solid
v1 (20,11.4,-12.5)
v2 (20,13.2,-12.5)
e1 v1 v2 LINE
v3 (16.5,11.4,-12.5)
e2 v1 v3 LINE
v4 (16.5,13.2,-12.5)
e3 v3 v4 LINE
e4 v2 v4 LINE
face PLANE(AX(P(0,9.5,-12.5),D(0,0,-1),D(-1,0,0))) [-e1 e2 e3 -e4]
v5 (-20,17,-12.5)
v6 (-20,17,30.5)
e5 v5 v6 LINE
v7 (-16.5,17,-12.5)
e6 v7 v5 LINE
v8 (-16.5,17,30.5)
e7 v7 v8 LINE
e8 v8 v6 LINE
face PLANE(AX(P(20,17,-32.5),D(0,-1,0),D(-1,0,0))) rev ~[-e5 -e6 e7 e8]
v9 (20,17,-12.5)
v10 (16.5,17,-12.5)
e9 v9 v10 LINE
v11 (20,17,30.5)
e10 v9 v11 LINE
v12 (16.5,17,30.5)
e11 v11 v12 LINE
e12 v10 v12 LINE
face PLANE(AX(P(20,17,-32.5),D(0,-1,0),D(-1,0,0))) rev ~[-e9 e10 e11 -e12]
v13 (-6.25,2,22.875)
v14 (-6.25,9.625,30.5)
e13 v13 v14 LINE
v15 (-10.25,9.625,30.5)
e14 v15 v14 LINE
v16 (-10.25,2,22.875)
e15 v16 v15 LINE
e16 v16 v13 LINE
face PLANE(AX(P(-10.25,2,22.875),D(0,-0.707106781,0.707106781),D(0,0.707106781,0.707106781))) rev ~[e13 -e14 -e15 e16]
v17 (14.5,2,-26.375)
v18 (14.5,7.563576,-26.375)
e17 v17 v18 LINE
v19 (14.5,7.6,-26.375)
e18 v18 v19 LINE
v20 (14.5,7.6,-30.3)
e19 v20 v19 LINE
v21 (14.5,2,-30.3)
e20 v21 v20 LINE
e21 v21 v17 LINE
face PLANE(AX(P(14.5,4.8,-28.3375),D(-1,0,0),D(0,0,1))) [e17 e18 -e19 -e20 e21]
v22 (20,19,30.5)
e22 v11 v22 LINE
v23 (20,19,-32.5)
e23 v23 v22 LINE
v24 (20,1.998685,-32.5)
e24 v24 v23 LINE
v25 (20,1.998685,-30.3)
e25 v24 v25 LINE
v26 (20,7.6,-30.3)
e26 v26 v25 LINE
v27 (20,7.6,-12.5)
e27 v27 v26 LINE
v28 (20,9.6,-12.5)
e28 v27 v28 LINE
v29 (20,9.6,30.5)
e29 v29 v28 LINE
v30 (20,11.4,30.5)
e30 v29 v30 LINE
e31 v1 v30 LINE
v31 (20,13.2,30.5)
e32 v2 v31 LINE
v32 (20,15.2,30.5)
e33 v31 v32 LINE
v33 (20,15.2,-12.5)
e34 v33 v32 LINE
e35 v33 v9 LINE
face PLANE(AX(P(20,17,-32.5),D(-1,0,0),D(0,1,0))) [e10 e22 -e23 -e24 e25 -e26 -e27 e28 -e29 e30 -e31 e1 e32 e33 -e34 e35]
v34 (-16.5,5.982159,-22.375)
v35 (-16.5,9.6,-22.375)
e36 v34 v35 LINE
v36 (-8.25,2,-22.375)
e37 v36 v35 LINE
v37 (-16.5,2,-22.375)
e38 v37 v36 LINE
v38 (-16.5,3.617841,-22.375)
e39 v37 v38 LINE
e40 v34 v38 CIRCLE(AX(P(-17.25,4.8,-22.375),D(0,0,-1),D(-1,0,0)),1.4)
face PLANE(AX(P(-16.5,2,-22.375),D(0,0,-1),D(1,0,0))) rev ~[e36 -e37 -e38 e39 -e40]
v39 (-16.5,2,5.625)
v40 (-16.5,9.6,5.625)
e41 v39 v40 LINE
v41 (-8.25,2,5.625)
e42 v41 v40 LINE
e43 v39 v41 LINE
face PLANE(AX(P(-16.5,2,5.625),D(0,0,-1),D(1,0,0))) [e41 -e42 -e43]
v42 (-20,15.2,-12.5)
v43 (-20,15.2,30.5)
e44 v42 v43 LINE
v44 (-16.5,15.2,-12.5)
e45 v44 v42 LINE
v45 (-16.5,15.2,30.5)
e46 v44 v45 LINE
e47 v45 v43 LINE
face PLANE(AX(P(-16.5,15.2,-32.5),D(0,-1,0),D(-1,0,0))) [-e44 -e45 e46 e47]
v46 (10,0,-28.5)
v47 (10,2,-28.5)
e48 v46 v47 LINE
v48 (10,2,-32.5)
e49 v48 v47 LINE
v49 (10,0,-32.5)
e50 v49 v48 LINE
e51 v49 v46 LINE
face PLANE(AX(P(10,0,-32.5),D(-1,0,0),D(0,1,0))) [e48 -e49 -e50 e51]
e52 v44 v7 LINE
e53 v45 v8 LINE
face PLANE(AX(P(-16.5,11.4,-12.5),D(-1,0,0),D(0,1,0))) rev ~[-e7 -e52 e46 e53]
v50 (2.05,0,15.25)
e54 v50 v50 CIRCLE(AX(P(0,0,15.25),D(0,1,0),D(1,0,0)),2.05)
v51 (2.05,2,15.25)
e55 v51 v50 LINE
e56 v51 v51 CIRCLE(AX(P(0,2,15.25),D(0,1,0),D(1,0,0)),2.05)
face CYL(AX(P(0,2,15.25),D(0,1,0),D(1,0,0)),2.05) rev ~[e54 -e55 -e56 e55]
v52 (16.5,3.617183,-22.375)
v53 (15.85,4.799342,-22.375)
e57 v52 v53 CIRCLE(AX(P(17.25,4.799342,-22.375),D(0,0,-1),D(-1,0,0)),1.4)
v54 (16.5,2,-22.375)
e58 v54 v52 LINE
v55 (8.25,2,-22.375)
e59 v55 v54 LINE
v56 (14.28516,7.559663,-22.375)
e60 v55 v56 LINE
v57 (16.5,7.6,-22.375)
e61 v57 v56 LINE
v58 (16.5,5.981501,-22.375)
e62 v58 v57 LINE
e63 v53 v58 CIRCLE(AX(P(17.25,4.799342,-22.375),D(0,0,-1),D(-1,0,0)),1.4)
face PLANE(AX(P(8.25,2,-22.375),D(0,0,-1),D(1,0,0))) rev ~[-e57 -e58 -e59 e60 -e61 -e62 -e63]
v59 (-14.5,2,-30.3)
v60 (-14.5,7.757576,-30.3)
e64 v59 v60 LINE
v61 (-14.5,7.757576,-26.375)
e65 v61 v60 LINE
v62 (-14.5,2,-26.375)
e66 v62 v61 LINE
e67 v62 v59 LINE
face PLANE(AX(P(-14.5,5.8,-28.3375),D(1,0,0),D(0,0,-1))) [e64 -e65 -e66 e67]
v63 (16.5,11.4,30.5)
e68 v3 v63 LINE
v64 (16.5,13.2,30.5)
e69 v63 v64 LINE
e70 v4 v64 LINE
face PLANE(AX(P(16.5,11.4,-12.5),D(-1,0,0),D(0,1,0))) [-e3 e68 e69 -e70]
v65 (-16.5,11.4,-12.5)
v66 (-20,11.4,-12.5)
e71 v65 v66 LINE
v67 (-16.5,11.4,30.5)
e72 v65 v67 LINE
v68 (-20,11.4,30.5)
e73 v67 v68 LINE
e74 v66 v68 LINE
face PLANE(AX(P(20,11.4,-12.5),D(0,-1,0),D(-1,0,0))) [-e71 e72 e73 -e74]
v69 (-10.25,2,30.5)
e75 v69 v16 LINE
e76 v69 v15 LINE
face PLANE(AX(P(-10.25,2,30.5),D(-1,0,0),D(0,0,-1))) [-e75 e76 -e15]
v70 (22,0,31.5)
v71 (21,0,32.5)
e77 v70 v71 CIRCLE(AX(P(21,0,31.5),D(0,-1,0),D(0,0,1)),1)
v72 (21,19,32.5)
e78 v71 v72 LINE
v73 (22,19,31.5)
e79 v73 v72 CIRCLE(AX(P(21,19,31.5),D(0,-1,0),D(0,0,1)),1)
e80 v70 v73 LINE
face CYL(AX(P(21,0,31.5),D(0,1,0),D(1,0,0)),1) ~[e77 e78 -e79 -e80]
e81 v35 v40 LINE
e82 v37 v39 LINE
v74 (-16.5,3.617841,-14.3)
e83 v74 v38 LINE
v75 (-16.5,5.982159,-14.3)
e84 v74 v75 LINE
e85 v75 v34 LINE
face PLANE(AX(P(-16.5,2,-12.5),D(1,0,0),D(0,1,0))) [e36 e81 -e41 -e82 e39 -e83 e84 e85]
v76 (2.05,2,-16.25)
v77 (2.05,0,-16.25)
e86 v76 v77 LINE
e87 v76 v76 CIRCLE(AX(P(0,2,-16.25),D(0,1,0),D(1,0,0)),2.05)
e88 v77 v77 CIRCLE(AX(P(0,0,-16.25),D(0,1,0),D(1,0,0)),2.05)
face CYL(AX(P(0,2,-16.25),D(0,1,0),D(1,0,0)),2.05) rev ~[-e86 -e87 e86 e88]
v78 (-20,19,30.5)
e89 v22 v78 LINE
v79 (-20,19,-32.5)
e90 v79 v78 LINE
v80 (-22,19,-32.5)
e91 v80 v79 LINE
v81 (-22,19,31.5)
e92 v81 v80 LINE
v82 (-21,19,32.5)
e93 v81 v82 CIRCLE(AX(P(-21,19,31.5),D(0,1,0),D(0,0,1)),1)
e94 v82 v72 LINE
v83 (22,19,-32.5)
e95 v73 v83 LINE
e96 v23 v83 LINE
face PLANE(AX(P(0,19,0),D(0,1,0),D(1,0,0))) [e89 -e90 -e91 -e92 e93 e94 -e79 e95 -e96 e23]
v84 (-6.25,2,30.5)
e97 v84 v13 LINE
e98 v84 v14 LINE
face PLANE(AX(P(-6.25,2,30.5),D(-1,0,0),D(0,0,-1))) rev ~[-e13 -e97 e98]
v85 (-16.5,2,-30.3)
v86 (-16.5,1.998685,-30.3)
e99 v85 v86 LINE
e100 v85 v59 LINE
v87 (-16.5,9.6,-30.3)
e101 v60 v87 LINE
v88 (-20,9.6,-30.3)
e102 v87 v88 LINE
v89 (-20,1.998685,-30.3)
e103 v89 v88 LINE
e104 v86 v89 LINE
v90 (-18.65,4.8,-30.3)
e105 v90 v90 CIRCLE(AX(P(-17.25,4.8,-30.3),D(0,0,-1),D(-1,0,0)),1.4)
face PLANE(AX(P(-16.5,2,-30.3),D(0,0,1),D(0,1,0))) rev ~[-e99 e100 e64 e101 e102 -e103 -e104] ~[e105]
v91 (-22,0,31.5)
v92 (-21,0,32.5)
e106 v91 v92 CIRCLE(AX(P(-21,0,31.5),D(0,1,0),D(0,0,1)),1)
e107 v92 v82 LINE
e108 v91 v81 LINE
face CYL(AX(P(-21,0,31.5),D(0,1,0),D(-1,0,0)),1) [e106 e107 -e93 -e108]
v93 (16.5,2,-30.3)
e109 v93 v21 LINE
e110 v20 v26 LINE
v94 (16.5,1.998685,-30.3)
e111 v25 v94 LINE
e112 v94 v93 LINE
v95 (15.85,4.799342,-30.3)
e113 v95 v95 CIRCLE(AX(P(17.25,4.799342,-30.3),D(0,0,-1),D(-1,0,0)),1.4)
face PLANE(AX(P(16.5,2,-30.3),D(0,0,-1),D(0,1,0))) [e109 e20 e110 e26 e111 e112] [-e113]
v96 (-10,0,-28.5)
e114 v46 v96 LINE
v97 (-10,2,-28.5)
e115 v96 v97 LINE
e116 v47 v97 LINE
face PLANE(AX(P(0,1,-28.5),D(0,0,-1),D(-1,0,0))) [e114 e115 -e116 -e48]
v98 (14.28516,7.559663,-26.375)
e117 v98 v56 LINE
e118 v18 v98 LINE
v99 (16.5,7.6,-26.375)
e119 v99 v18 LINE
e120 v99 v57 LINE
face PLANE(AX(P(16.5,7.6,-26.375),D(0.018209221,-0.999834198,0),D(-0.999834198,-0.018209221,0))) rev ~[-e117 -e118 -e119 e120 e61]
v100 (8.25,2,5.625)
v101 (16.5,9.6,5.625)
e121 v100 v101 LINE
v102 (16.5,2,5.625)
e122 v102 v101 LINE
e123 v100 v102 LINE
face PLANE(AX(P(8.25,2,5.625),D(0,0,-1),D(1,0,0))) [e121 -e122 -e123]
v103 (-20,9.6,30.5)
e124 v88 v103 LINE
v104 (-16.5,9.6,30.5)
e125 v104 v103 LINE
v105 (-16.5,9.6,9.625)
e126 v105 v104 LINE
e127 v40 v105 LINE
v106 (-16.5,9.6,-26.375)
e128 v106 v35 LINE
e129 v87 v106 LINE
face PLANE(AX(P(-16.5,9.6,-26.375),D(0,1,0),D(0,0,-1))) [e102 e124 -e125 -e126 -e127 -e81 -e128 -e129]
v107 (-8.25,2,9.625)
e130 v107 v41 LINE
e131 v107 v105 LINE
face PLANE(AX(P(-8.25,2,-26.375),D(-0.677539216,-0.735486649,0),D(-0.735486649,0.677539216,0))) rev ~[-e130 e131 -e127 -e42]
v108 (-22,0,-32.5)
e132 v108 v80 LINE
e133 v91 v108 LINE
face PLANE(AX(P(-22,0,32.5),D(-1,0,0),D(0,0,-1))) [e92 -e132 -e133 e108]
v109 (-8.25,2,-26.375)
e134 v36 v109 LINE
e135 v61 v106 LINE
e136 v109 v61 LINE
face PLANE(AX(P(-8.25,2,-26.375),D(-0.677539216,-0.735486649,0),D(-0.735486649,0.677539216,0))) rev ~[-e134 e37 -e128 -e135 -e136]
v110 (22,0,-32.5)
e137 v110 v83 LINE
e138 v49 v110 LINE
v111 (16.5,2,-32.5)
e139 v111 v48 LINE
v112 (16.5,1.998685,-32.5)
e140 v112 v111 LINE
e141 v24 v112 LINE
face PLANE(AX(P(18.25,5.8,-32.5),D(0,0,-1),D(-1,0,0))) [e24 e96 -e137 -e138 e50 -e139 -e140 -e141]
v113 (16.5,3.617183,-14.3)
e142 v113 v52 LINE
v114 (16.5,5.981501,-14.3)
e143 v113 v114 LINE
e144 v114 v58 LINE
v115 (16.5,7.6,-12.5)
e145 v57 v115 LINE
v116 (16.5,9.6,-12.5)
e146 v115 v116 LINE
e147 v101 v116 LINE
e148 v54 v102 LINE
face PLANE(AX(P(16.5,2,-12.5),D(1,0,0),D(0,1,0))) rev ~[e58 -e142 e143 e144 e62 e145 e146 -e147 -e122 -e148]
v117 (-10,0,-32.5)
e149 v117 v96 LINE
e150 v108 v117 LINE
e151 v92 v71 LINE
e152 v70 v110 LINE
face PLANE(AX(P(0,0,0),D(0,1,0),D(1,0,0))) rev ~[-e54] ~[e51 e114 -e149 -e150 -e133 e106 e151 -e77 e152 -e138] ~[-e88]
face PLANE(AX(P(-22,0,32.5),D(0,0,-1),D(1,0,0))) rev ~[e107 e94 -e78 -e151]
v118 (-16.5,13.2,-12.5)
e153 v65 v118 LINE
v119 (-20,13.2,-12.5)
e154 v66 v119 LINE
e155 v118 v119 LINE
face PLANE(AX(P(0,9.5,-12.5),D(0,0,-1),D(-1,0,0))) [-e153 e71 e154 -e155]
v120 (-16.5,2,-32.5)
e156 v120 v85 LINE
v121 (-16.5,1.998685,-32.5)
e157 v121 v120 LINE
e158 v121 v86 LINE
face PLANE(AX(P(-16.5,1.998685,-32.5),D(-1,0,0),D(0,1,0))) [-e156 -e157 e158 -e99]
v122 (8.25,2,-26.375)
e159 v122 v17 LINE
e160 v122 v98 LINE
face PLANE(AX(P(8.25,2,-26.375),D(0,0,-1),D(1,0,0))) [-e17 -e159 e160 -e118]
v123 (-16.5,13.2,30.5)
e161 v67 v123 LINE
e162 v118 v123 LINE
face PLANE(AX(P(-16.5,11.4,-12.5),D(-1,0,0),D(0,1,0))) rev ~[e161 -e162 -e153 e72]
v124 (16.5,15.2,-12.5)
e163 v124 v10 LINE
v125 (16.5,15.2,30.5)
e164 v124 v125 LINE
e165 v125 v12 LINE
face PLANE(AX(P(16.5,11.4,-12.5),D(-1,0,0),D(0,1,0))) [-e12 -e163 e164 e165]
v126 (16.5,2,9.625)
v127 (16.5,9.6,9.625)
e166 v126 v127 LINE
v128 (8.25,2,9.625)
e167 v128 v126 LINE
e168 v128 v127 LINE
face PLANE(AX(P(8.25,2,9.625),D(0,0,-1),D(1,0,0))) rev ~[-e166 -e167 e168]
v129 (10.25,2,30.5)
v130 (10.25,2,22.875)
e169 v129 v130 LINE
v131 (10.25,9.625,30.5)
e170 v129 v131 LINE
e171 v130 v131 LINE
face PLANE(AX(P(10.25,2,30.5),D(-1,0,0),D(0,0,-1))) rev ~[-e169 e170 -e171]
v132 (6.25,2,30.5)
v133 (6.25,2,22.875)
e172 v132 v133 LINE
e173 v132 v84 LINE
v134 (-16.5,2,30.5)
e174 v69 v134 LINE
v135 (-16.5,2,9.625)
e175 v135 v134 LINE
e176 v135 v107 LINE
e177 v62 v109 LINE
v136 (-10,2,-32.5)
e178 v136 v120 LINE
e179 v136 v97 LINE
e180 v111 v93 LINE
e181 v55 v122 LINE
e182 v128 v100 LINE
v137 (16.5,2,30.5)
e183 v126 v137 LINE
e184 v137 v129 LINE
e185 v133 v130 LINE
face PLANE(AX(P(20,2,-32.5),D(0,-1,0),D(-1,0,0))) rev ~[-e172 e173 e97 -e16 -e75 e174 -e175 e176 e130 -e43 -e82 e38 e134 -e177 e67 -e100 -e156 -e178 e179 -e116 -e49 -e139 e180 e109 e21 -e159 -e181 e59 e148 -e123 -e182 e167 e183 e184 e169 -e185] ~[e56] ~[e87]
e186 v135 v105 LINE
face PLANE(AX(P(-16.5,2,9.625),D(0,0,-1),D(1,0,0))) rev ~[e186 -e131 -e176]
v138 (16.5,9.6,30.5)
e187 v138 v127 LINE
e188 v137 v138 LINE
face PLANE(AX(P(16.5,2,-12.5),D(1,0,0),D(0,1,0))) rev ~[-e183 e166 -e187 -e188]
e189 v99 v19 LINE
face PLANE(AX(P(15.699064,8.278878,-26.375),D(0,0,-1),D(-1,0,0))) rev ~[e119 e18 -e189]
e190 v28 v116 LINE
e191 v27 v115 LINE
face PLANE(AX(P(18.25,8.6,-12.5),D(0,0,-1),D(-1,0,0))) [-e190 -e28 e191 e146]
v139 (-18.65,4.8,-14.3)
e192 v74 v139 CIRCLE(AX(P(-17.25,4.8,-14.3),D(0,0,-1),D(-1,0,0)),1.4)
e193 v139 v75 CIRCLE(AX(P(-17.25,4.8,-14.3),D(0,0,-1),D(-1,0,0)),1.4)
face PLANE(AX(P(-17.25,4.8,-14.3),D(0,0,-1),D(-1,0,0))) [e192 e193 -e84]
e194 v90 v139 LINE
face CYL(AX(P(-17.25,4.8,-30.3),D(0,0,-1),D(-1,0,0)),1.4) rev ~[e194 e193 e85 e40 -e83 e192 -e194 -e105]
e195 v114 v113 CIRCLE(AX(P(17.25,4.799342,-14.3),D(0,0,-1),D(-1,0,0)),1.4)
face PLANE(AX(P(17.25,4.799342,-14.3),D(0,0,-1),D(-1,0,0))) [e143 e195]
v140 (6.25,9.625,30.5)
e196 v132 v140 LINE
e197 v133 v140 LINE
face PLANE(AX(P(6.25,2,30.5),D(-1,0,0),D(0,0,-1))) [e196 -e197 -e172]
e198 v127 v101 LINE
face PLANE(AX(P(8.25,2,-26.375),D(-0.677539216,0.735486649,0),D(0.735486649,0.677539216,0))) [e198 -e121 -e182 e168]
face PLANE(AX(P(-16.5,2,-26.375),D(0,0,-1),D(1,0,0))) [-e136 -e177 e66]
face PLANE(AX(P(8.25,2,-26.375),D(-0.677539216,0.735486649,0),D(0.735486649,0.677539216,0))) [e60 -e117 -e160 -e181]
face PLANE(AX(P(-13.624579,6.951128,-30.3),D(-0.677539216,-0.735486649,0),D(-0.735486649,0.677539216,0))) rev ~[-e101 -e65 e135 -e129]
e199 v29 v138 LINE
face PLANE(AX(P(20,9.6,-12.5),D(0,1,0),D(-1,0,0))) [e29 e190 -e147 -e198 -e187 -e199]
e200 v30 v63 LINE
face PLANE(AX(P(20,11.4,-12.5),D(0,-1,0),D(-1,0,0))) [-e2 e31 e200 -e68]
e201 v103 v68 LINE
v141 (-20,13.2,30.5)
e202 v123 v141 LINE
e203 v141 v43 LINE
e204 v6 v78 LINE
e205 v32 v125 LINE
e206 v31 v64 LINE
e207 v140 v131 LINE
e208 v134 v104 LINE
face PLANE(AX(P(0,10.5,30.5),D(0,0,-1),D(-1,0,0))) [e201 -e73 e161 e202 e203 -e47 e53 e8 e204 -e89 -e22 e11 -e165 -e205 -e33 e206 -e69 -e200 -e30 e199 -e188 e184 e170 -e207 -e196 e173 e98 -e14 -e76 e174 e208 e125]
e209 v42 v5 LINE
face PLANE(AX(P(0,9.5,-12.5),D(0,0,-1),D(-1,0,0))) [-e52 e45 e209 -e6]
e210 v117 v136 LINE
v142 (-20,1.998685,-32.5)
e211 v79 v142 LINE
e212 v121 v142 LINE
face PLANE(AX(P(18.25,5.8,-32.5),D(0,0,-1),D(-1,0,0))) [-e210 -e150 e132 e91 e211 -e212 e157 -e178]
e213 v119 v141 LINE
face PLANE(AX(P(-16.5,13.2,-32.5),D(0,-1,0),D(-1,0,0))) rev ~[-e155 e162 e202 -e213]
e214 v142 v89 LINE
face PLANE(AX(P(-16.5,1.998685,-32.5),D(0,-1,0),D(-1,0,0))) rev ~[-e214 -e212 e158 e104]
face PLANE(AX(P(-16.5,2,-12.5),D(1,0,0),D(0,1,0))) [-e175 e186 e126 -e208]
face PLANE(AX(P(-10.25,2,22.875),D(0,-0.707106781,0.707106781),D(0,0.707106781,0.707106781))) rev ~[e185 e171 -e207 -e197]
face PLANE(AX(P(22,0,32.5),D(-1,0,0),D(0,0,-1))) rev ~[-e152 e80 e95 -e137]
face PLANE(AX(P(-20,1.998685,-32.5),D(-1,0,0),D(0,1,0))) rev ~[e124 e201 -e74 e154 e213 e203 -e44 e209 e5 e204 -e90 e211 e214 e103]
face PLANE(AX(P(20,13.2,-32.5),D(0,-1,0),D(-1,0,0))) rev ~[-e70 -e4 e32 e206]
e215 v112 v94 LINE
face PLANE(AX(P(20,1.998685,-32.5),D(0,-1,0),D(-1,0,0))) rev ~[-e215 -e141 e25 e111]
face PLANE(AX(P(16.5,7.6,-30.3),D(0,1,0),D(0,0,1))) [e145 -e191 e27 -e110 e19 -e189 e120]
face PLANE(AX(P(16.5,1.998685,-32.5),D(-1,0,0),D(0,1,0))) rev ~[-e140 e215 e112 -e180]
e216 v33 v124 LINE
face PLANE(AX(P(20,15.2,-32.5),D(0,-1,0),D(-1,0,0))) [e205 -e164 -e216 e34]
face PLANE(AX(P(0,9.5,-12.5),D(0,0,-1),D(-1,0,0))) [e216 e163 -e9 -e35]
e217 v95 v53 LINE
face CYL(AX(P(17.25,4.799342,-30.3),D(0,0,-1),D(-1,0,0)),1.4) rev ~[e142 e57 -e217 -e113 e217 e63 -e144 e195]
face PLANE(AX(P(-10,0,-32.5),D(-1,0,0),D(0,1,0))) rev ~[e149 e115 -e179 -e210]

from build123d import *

# Parameters (mm, degrees)
ESBO_O1_W                = 44
ESBO_O1_H                = 65
RESSALTO_EXTRUS_O1_DEPTH = 19
ESBO_O2_W                = 40
ESBO_O2_H                = 15
CORTE_EXTRUS_O1_DEPTH    = 20
ESBO_O3_W                = 40
ESBO_O3_H                = 1.8
CORTE_EXTRUS_O2_DEPTH    = 43
ESBO_O4_W                = 33
ESBO_O4_H                = 7.6
CORTE_EXTRUS_O3_DEPTH    = 43
ESBO_O5_W                = 3.5
ESBO_O5_H                = 7.6
RESSALTO_EXTRUS_O2_DEPTH = 20
ESBO_O6_W                = 33
ESBO_O6_H                = 5.6
CORTE_EXTRUS_O4_DEPTH    = 43
ESBO_O7_W                = 3.5
ESBO_O7_H                = 2
ESBO_O7_W_2              = 40
CORTE_EXTRUS_O5_DEPTH    = 63
ESBO_O8_R                = 2.05
CORTE_EXTRUS_O6_DEPTH    = 3
ESBO_O9_W                = 3.5
ESBO_O9_H                = 7.601315145
CORTE_EXTRUS_O7_DEPTH    = 4
ESBO_O10_W               = 3.5
ESBO_O10_H               = 2
CORTE_EXTRUS_O9_DEPTH    = 16
ESBO_O12_W               = 8.25
ESBO_O12_H               = 4
ESBO_O12_W_2             = 4
ESBO_O12_H_2             = 7.625
RESSALTO_EXTRUS_O3_DEPTH = 8
CORTE_EXTRUS_O10_DEPTH   = 40
CORTE_EXTRUS_O11_DEPTH   = 24
RESSALTO_EXTRUS_O4_DEPTH = 1.8
ESBO_O18_W               = 3.925
ESBO_O18_H               = 5.6
RESSALTO_EXTRUS_O5_DEPTH = 2
CORTE_EXTRUS_O12_DEPTH   = 10
ESBO_O20_R               = 1.4
CORTE_EXTRUS_O13_DEPTH   = 16
ESBO_O21_W               = 3.925
ESBO_O21_H               = 7.6
RESSALTO_EXTRUS_O6_DEPTH = 2
CORTE_EXTRUS_O14_DEPTH   = 5
ESBO_O24_R               = 1.4
CORTE_EXTRUS_O15_DEPTH   = 16
ESBO_O26_W               = 20
ESBO_O26_H               = 2
CORTE_EXTRUS_O16_DEPTH   = 4
FILETE1_R                = 1


with BuildPart() as part:
    # Esboço1 → Ressalto-extrusão1 (new body)
    with BuildSketch(Plane(origin=(0, 0, 0), x_dir=(1, 0, 0), z_dir=(0, 1, 0))):
        Rectangle(ESBO_O1_W, ESBO_O1_H)
    extrude(amount=RESSALTO_EXTRUS_O1_DEPTH)

    # Esboço2 → Corte-extrusão1 (cut)
    with BuildSketch(Plane(origin=(0, 0, -32.5), x_dir=(-1, 0, 0), z_dir=(0, 0, -1))):
        with Locations((0, 9.5)):
            Rectangle(ESBO_O2_W, ESBO_O2_H)
    extrude(amount=-CORTE_EXTRUS_O1_DEPTH, mode=Mode.SUBTRACT)

    # Esboço3 → Corte-extrusão2 (cut)
    with BuildSketch(Plane(origin=(0, 0, -12.5), x_dir=(-1, 0, 0), z_dir=(0, 0, -1))):
        with Locations((0, 10.5)):
            Rectangle(ESBO_O3_W, ESBO_O3_H)
    extrude(amount=-CORTE_EXTRUS_O2_DEPTH, mode=Mode.SUBTRACT)

    # Esboço4 → Corte-extrusão3 (cut)
    with BuildSketch(Plane(origin=(0, 0, -12.5), x_dir=(-1, 0, 0), z_dir=(0, 0, -1))):
        with Locations((0, 5.8)):
            Rectangle(ESBO_O4_W, ESBO_O4_H)
    extrude(amount=-CORTE_EXTRUS_O3_DEPTH, mode=Mode.SUBTRACT)

    # Esboço5 → Ressalto-extrusão2 (add)
    with BuildSketch(Plane(origin=(0, 0, -12.5), x_dir=(-1, 0, 0), z_dir=(0, 0, -1))):
        with Locations((-18.25, 5.8)):
            Rectangle(ESBO_O5_W, ESBO_O5_H)
        with Locations((18.25, 5.8)):
            Rectangle(ESBO_O5_W, ESBO_O5_H)
    extrude(amount=RESSALTO_EXTRUS_O2_DEPTH)

    # Esboço6 → Corte-extrusão4 (cut)
    with BuildSketch(Plane(origin=(0, 0, -12.5), x_dir=(-1, 0, 0), z_dir=(0, 0, -1))):
        with Locations((0, 14.2)):
            Rectangle(ESBO_O6_W, ESBO_O6_H)
    extrude(amount=-CORTE_EXTRUS_O4_DEPTH, mode=Mode.SUBTRACT)

    # Esboço7 → Corte-extrusão5 (cut)
    with BuildSketch(Plane(origin=(0, 0, -32.5), x_dir=(-1, 0, 0), z_dir=(0, 0, -1))):
        with Locations((-18.25, 14.2)):
            Rectangle(ESBO_O7_W, ESBO_O7_H)
        with Locations((18.25, 14.2)):
            Rectangle(ESBO_O7_W, ESBO_O7_H)
        with Locations((0, 18)):
            Rectangle(ESBO_O7_W_2, ESBO_O7_H)
    extrude(amount=-CORTE_EXTRUS_O5_DEPTH, mode=Mode.SUBTRACT)

    # Esboço8 → Corte-extrusão6 (cut, through all)
    with BuildSketch(Plane(origin=(0, 2, 0), x_dir=(1, 0, 0), z_dir=(0, 1, 0))):
        with Locations((0, 16.25)):
            Circle(ESBO_O8_R)
        with Locations((0, -15.25)):
            Circle(ESBO_O8_R)
    extrude(amount=-CORTE_EXTRUS_O6_DEPTH, mode=Mode.SUBTRACT)

    # Esboço9 → Corte-extrusão7 (cut)
    with BuildSketch(Plane(origin=(0, 0, -32.5), x_dir=(-1, 0, 0), z_dir=(0, 0, -1))):
        with Locations((18.25, 5.799342428)):
            Rectangle(ESBO_O9_W, ESBO_O9_H)
        with Locations((-18.25, 5.799342428)):
            Rectangle(ESBO_O9_W, ESBO_O9_H)
    extrude(amount=-CORTE_EXTRUS_O7_DEPTH, mode=Mode.SUBTRACT)

    # Esboço10 → Corte-extrusão9 (cut)
    with BuildSketch(Plane(origin=(0, 0, -28.5), x_dir=(-1, 0, 0), z_dir=(0, 0, -1))):
        with Locations((-18.25, 8.6)):
            Rectangle(ESBO_O10_W, ESBO_O10_H)
    extrude(amount=-CORTE_EXTRUS_O9_DEPTH, mode=Mode.SUBTRACT)

    # Esboço12 → Ressalto-extrusão3 (add)
    with BuildSketch(Plane(origin=(0, 2, 0), x_dir=(1, 0, 0), z_dir=(0, 1, 0))):
        with Locations((12.375, 24.375)):
            Rectangle(ESBO_O12_W, ESBO_O12_H)
        with Locations((12.375, -7.625)):
            Rectangle(ESBO_O12_W, ESBO_O12_H)
        with Locations((8.25, -26.6875)):
            Rectangle(ESBO_O12_W_2, ESBO_O12_H_2)
        with Locations((-8.25, -26.6875)):
            Rectangle(ESBO_O12_W_2, ESBO_O12_H_2)
        with Locations((-12.375, -7.625)):
            Rectangle(ESBO_O12_W, ESBO_O12_H)
        with Locations((-12.375, 24.375)):
            Rectangle(ESBO_O12_W, ESBO_O12_H)
    extrude(amount=RESSALTO_EXTRUS_O3_DEPTH)

    # Esboço13 → Corte-extrusão10 (cut)
    with BuildSketch(Plane(origin=(0, 0, -26.375), x_dir=(-1, 0, 0), z_dir=(0, 0, -1))):
        Polygon((-8.25, 10), (-8.25, 2), (-16.5, 9.6), (-16.5, 10), align=None)
        Polygon((8.25, 2), (16.5, 9.6), (16.5, 10), (8.25, 10), align=None)
    extrude(amount=-CORTE_EXTRUS_O10_DEPTH, mode=Mode.SUBTRACT)

    # Esboço14 → Corte-extrusão11 (cut)
    with BuildSketch(Plane.ZY.offset(10.25)):
        Polygon((22.875, 2), (30.5, 9.625), (30.5, 10), (22.875, 10), align=None)
    extrude(amount=-CORTE_EXTRUS_O11_DEPTH, mode=Mode.SUBTRACT)

    # Esboço17 → Ressalto-extrusão4 (add)
    with BuildSketch(Plane(origin=(0, 0, -28.5), x_dir=(-1, 0, 0), z_dir=(0, 0, -1))):
        Polygon((-16.5, 2), (-16.5, 7.6), (-20, 7.6), (-20, 1.998684855), (-16.5, 1.998684855), align=None)
        Polygon((16.5, 9.6), (16.5, 2), (16.5, 1.998684855), (20, 1.998684855), (20, 9.6), align=None)
    extrude(amount=RESSALTO_EXTRUS_O4_DEPTH)

    # Esboço18 → Ressalto-extrusão5 (add)
    with BuildSketch(Plane.ZY.offset(-16.5)):
        with Locations((-28.3375, 4.8)):
            Rectangle(ESBO_O18_W, ESBO_O18_H)
    extrude(amount=RESSALTO_EXTRUS_O5_DEPTH)

    # Esboço19 → Corte-extrusão12 (cut)
    with BuildSketch(Plane(origin=(0, 0, -26.375), x_dir=(-1, 0, 0), z_dir=(0, 0, -1))):
        Polygon((-16.5, 9.6), (-16.5, 7.6), (-14.285160283, 7.559662806), align=None)
    extrude(amount=-CORTE_EXTRUS_O12_DEPTH, mode=Mode.SUBTRACT)

    # Esboço20 → Corte-extrusão13 (cut)
    with BuildSketch(Plane(origin=(0, 0, -30.3), x_dir=(-1, 0, 0), z_dir=(0, 0, -1))):
        with Locations((-17.25, 4.799342428)):
            Circle(ESBO_O20_R)
    extrude(amount=-CORTE_EXTRUS_O13_DEPTH, mode=Mode.SUBTRACT)

    # Esboço21 → Ressalto-extrusão6 (add)
    with BuildSketch(Plane(origin=(-16.5, 0, 0), x_dir=(0, 0, -1), z_dir=(1, 0, 0))):
        with Locations((28.3375, 5.8)):
            Rectangle(ESBO_O21_W, ESBO_O21_H)
    extrude(amount=RESSALTO_EXTRUS_O6_DEPTH)

    # Esboço23 → Corte-extrusão14 (cut)
    with BuildSketch(Plane(origin=(0, 0, -30.3), x_dir=(-1, 0, 0), z_dir=(0, 0, -1))):
        Polygon((13.624579494, 6.951127777), (17.102092839, 10.154655221), (13.624579494, 10.154655221), align=None)
    extrude(amount=-CORTE_EXTRUS_O14_DEPTH, mode=Mode.SUBTRACT)

    # Esboço24 → Corte-extrusão15 (cut)
    with BuildSketch(Plane(origin=(0, 0, -30.3), x_dir=(-1, 0, 0), z_dir=(0, 0, -1))):
        with Locations((17.25, 4.8)):
            Circle(ESBO_O24_R)
    extrude(amount=-CORTE_EXTRUS_O15_DEPTH, mode=Mode.SUBTRACT)

    # Esboço26 → Corte-extrusão16 (cut)
    with BuildSketch(Plane(origin=(0, 0, -32.5), x_dir=(-1, 0, 0), z_dir=(0, 0, -1))):
        with Locations((0, 1)):
            Rectangle(ESBO_O26_W, ESBO_O26_H)
    extrude(amount=-CORTE_EXTRUS_O16_DEPTH, mode=Mode.SUBTRACT)

    # Filete1
    filete1_edges = [part.edges().sort_by_distance(p)[0] for p in [
        (22, 9.5, 32.5),
        (-22, 9.5, 32.5),
    ]]
    fillet(filete1_edges, radius=FILETE1_R)


solid = part.part
